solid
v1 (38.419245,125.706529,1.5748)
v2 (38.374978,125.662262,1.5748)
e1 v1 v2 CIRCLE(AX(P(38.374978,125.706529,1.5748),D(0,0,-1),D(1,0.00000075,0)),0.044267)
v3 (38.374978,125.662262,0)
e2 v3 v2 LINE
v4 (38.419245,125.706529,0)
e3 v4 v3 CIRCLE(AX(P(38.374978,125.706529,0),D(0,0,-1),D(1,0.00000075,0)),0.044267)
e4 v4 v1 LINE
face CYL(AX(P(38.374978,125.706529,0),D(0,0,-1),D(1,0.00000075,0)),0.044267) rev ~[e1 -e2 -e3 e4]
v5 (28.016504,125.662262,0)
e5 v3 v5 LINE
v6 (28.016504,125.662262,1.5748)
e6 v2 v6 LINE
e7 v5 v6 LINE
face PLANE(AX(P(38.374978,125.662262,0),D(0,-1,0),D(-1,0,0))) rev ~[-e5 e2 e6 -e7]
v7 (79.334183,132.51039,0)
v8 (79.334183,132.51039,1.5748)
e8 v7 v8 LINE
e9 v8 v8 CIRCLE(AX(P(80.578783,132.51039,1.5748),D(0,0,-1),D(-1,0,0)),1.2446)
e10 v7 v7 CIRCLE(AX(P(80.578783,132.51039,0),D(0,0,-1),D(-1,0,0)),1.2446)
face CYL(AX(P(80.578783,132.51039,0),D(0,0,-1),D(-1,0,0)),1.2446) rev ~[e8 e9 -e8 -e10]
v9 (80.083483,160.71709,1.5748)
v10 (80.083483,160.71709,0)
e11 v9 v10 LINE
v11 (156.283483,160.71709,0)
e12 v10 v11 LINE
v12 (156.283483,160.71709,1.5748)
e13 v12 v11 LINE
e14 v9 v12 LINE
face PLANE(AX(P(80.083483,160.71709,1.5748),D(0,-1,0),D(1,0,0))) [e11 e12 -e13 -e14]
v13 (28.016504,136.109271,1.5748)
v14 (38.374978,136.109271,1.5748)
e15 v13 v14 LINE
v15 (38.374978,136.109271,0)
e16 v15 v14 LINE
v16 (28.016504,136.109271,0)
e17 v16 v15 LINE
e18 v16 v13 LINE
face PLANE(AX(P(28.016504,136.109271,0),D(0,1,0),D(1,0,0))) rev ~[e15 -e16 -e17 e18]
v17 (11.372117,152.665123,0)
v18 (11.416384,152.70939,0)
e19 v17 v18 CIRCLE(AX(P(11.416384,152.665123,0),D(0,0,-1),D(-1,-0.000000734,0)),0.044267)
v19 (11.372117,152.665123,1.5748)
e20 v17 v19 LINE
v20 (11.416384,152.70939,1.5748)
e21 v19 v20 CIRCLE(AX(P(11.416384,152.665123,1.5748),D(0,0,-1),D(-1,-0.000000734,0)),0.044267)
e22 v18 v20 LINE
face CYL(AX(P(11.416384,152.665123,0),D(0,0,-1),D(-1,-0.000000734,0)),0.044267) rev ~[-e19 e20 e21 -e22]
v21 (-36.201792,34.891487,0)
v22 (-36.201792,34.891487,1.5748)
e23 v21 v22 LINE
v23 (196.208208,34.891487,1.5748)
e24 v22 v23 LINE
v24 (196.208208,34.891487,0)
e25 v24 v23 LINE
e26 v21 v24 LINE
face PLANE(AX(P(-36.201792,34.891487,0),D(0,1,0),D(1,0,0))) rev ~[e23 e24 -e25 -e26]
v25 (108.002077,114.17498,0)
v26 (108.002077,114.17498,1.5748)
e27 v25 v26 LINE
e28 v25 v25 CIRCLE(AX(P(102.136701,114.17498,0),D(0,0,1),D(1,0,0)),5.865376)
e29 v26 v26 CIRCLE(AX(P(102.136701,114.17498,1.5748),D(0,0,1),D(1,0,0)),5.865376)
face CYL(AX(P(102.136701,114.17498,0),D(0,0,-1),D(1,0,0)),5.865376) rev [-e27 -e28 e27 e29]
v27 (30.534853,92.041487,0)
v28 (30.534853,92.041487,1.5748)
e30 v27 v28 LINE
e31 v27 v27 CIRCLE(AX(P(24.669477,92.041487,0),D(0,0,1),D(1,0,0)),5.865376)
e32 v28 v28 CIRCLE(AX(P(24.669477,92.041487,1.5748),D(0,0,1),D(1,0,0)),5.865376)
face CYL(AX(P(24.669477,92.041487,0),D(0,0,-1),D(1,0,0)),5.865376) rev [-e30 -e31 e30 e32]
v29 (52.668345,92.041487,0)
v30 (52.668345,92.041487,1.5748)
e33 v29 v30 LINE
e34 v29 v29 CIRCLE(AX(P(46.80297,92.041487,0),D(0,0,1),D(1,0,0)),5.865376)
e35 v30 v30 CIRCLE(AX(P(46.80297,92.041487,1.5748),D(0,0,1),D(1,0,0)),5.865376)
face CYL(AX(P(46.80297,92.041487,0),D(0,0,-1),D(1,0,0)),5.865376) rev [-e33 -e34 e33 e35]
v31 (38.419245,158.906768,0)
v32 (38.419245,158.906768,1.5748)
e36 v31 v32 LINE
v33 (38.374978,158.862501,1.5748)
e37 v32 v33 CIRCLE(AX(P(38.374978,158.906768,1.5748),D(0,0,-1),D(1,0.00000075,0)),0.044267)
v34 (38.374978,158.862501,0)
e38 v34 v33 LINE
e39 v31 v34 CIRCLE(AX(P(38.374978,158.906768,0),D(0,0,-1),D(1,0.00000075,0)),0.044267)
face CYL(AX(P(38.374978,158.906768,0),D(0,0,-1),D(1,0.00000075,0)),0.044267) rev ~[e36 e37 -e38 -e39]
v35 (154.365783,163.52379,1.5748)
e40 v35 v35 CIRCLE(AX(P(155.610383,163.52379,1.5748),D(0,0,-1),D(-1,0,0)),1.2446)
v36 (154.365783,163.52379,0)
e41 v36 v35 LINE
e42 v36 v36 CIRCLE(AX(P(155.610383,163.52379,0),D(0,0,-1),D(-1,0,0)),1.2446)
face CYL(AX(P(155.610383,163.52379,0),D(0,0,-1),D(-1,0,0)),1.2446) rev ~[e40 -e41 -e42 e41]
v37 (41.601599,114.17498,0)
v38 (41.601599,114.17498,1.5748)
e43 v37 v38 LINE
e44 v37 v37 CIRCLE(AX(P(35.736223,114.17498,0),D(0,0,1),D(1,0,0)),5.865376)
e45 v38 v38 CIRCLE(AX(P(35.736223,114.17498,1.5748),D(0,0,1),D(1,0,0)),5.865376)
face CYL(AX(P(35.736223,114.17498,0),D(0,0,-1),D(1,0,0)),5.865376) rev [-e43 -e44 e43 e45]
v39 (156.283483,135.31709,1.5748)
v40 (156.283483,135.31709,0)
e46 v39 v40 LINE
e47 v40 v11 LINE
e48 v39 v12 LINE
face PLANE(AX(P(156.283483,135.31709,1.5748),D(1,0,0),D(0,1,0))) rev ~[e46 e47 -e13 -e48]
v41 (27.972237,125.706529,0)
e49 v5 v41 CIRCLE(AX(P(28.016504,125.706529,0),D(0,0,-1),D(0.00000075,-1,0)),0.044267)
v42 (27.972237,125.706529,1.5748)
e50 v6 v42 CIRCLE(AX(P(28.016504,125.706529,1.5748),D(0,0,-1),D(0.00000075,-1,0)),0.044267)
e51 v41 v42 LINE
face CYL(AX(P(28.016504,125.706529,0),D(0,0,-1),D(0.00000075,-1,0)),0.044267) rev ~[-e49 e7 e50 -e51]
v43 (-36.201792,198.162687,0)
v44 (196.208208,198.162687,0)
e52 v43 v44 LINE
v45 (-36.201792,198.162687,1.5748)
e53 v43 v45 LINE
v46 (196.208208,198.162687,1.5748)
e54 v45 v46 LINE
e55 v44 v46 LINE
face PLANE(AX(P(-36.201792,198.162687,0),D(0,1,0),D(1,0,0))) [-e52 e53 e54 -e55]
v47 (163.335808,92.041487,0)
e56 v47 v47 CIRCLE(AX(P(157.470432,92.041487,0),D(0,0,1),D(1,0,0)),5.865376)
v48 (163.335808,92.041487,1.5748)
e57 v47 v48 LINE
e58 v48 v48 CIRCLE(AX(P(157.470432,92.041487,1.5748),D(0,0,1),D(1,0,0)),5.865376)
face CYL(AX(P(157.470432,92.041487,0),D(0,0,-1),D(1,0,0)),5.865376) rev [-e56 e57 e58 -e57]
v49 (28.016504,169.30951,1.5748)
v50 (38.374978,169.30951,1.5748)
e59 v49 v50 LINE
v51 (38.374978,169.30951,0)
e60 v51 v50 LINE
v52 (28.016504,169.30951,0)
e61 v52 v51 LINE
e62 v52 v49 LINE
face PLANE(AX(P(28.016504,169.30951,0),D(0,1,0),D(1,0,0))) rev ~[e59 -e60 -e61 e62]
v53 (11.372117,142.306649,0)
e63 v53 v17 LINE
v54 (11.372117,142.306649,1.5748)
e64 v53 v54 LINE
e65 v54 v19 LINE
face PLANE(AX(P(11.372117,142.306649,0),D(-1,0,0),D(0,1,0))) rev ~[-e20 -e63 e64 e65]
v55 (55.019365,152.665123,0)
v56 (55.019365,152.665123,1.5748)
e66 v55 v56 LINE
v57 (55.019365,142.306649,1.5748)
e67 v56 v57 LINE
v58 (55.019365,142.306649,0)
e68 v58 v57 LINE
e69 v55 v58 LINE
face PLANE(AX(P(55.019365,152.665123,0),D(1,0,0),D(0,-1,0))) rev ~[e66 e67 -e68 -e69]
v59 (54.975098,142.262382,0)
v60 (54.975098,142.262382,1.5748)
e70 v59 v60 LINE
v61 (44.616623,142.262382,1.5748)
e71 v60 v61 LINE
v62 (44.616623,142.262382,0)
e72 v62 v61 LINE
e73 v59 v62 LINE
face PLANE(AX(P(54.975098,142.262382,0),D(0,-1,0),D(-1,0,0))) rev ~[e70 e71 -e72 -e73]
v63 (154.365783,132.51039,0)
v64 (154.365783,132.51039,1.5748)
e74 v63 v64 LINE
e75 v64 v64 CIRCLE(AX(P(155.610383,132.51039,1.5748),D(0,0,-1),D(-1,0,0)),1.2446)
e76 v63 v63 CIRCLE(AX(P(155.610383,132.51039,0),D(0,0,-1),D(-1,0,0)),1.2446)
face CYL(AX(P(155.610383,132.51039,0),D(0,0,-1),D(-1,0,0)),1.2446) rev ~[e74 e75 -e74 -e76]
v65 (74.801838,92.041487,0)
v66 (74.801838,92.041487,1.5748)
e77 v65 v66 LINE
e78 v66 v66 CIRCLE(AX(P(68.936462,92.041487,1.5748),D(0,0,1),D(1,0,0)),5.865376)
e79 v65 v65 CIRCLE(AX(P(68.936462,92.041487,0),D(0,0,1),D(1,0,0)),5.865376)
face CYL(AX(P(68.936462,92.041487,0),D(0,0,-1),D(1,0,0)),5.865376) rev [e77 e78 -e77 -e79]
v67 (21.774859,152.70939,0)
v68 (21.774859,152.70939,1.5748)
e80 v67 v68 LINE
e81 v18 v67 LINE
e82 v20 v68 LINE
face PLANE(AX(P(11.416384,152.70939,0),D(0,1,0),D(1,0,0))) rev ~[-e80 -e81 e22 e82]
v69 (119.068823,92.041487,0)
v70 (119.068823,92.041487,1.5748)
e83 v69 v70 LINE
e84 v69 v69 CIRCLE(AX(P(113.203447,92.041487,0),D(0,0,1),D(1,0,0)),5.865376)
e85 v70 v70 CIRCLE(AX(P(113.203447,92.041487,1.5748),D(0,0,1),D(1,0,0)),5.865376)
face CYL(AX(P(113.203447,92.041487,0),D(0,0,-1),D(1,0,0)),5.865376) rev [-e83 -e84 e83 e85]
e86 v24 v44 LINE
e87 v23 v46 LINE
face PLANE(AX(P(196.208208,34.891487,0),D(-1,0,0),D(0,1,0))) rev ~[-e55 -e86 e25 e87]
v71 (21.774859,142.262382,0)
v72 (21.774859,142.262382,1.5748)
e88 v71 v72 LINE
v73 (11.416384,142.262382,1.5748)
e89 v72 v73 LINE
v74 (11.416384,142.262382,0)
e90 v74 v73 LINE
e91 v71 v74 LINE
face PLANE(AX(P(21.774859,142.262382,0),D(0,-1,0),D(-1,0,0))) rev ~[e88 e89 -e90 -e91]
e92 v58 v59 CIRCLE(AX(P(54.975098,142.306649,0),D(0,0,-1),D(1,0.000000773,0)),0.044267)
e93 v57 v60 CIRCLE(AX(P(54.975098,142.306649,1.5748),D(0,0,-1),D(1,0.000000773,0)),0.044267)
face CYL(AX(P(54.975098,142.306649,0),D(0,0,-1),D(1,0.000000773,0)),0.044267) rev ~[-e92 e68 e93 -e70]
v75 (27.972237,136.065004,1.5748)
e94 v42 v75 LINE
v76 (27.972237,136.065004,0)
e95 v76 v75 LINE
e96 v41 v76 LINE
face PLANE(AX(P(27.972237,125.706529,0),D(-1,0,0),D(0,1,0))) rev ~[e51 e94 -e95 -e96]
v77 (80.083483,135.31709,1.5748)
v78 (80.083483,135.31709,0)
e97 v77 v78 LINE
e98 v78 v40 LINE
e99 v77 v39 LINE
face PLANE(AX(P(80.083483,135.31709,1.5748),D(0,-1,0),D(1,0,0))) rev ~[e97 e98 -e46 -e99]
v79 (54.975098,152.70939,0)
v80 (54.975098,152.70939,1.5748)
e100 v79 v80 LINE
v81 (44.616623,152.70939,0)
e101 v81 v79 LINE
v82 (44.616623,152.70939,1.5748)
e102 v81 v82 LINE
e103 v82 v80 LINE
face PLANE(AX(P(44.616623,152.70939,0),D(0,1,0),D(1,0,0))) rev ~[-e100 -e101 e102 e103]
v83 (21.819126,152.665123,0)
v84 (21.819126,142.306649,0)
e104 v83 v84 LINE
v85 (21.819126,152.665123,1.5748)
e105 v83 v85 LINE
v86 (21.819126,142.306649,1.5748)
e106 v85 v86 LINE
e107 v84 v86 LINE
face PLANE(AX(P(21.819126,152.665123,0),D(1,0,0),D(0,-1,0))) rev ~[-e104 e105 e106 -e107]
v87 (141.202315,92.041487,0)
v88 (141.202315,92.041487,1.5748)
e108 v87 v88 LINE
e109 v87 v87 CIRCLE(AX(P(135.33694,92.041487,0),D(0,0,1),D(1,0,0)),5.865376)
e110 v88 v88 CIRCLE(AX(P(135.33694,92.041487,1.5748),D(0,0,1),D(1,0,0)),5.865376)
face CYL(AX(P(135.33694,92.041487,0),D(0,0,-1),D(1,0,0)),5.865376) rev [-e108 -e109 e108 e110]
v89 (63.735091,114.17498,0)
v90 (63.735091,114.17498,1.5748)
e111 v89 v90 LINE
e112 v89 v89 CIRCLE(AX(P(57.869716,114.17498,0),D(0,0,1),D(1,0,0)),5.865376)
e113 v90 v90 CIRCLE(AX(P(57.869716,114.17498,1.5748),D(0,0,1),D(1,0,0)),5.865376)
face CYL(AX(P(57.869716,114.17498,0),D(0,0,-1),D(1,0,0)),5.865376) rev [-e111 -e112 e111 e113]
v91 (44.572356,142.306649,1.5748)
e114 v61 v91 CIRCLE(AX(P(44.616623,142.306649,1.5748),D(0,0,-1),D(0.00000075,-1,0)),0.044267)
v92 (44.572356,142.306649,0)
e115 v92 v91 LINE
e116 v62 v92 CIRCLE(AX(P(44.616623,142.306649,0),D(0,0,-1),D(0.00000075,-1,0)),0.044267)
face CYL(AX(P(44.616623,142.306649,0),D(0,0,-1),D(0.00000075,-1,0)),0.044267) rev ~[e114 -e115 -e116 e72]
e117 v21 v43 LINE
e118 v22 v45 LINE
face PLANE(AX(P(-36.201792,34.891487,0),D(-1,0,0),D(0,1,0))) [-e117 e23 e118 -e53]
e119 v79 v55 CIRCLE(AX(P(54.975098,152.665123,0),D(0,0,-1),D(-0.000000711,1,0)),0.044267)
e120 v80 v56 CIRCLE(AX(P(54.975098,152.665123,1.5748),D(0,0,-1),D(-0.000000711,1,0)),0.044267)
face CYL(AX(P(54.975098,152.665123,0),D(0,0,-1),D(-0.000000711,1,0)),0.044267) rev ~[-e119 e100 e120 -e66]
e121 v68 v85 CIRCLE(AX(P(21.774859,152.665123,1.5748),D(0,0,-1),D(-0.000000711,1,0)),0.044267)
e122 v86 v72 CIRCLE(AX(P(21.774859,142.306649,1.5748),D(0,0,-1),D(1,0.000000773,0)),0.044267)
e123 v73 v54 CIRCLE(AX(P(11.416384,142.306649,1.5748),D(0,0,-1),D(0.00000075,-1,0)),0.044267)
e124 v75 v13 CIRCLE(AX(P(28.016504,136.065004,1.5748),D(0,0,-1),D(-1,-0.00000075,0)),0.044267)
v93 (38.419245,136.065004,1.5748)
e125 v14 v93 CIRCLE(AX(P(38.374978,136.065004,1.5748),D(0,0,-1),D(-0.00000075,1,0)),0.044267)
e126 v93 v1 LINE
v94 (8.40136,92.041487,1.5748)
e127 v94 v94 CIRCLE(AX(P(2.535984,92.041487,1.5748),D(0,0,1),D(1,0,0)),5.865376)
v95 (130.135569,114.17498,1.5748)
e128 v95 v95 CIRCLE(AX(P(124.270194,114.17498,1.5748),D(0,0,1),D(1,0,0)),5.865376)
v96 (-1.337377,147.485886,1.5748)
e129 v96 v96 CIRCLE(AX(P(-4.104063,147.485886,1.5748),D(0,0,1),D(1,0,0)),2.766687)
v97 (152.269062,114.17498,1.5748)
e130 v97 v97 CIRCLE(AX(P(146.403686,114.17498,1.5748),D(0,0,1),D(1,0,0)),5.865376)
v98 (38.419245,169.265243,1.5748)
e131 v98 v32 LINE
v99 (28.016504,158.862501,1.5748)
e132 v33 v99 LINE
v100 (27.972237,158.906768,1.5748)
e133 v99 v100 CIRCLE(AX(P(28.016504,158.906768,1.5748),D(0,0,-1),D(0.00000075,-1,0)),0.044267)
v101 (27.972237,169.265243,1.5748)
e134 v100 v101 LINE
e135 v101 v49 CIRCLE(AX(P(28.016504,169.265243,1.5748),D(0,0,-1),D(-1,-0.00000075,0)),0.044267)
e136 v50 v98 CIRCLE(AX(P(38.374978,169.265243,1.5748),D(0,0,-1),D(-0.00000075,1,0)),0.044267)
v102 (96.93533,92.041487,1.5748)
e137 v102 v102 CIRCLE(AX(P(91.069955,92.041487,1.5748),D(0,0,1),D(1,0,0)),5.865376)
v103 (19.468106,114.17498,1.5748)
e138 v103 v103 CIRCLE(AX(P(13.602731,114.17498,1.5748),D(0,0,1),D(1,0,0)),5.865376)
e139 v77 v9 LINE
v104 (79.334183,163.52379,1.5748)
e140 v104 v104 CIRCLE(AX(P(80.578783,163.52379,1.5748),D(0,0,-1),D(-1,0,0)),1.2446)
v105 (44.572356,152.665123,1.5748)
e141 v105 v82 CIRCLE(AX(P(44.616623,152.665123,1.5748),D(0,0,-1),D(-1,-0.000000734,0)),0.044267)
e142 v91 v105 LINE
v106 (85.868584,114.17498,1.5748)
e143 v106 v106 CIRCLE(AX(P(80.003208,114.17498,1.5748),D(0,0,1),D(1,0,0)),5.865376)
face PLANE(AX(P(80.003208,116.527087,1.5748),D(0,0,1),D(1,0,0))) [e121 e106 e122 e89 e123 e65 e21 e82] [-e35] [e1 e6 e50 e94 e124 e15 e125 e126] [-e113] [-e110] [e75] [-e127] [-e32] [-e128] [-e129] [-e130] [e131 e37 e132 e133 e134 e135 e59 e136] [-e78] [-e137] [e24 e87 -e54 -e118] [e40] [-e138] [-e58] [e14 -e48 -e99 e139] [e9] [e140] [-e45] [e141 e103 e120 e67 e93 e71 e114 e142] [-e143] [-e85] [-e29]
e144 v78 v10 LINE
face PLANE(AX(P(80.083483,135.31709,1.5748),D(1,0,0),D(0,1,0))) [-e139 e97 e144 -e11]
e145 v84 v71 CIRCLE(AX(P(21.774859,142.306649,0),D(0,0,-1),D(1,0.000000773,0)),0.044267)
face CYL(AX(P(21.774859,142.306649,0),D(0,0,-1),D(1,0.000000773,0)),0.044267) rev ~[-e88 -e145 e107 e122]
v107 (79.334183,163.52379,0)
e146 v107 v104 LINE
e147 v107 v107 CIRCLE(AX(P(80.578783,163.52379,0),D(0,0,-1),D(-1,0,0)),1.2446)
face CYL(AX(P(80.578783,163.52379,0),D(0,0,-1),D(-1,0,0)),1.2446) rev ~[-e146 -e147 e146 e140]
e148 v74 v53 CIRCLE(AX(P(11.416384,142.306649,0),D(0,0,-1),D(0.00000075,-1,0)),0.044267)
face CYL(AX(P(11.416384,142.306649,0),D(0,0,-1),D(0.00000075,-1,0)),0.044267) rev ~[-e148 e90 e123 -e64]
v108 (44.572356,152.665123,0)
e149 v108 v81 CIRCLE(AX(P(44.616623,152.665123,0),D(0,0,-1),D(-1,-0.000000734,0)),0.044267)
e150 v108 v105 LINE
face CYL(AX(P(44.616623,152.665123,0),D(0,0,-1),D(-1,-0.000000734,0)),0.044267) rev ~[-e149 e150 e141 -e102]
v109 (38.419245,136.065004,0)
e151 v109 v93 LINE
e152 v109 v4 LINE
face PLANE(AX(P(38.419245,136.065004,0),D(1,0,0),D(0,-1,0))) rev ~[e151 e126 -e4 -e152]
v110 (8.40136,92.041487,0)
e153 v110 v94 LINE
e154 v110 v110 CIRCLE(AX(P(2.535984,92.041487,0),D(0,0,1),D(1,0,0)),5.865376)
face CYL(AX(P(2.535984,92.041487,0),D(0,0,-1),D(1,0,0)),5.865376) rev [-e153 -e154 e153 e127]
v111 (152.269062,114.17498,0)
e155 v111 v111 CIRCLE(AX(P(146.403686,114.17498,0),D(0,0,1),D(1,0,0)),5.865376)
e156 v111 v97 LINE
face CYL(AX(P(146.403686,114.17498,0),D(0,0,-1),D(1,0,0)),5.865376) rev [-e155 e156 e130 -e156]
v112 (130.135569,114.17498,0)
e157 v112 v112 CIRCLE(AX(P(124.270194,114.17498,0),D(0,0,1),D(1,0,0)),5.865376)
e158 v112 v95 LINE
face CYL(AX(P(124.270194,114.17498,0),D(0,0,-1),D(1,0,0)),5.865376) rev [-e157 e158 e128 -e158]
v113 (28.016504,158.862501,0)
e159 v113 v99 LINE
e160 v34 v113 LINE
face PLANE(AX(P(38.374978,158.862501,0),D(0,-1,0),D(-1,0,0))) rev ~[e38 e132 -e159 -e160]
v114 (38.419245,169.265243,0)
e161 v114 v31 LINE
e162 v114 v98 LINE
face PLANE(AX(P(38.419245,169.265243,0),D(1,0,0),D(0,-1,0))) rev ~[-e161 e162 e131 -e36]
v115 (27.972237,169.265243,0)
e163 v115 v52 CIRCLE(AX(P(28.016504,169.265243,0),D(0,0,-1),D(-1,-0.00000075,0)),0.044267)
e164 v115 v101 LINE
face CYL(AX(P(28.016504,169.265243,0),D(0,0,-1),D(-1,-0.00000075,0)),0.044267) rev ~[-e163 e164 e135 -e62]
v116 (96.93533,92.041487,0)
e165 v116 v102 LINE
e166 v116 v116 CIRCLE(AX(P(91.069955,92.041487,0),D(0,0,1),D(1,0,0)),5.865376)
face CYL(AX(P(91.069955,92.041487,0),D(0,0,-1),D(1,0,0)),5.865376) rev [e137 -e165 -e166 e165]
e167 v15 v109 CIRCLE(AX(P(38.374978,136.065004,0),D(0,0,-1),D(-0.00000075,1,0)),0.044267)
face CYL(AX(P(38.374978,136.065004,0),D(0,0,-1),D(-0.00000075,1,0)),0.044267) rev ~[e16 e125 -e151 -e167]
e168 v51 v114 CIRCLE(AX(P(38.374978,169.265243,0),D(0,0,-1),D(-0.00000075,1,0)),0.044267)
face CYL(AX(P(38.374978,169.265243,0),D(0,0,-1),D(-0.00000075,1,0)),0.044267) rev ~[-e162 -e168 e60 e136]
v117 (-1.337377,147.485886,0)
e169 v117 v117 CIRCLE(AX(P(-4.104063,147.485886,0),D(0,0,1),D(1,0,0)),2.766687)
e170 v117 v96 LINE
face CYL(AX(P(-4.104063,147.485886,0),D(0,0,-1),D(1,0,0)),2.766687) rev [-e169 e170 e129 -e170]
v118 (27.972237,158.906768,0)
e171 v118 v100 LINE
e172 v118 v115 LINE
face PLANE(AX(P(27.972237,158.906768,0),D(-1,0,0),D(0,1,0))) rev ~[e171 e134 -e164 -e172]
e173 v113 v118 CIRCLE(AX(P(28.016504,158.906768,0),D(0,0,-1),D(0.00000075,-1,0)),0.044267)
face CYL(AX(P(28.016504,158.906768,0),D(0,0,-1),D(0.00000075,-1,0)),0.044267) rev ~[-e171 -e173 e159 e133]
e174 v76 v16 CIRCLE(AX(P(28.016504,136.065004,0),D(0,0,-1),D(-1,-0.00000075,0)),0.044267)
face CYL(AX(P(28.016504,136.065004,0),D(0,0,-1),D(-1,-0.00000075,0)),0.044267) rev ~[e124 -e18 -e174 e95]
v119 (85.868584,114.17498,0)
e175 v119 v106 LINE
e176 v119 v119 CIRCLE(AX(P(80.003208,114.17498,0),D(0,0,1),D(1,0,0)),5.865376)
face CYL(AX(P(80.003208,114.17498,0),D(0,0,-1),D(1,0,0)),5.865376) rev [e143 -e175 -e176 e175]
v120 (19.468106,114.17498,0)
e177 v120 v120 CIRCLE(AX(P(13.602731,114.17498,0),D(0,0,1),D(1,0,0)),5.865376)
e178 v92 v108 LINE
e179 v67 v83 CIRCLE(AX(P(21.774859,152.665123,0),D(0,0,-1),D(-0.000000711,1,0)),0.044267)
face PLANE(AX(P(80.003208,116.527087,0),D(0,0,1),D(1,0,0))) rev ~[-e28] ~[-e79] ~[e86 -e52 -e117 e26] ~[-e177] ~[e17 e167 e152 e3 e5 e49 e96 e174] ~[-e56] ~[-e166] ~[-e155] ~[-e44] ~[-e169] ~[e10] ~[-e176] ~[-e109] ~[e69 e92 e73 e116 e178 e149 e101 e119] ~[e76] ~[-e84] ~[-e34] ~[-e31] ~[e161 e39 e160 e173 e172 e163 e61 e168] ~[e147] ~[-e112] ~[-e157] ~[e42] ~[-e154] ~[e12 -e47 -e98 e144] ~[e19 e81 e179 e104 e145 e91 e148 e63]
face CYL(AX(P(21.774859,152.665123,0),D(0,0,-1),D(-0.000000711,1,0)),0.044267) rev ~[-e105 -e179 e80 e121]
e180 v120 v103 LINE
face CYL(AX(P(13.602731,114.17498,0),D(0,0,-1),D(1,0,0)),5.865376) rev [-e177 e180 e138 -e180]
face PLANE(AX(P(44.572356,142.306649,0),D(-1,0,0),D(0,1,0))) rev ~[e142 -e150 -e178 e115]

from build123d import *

# Parameters (mm, degrees)
MODEL_W             = 232.41
MODEL_H             = 163.2712
MODEL_R             = 2.766686572
MODEL_R_2           = 5.865375533
BOSS_EXTRUDE2_DEPTH = 1.5748
SKETCH10_W          = 76.2
SKETCH10_H          = 25.4
CUT_EXTRUDE13_DEPTH = 1.5748
SKETCH11_R          = 1.2446
CUT_EXTRUDE14_DEPTH = 279.870205617


with BuildPart() as part:
    # Model → Boss-Extrude2 (new body)
    with BuildSketch(Plane.XY):
        with Locations((80.00320848, 116.527086979)):
            Rectangle(MODEL_W, MODEL_H)
        with Locations((-4.104063311, 147.485885883)):
            Circle(MODEL_R, mode=Mode.SUBTRACT)
        with Locations((68.936462192, 92.041486979)):
            Circle(MODEL_R_2, mode=Mode.SUBTRACT)
        with Locations((2.535984462, 92.041486979)):
            Circle(MODEL_R_2, mode=Mode.SUBTRACT)
        with Locations((24.669477039, 92.041486979)):
            Circle(MODEL_R_2, mode=Mode.SUBTRACT)
        with Locations((46.802969616, 92.041486979)):
            Circle(MODEL_R_2, mode=Mode.SUBTRACT)
        with Locations((91.069954769, 92.041486979)):
            Circle(MODEL_R_2, mode=Mode.SUBTRACT)
        with Locations((113.203447345, 92.041486979)):
            Circle(MODEL_R_2, mode=Mode.SUBTRACT)
        with Locations((135.336939922, 92.041486979)):
            Circle(MODEL_R_2, mode=Mode.SUBTRACT)
        with Locations((157.470432499, 92.041486979)):
            Circle(MODEL_R_2, mode=Mode.SUBTRACT)
        with Locations((146.40368621, 114.174979556)):
            Circle(MODEL_R_2, mode=Mode.SUBTRACT)
        with Locations((124.270193634, 114.174979556)):
            Circle(MODEL_R_2, mode=Mode.SUBTRACT)
        with Locations((102.136701057, 114.174979556)):
            Circle(MODEL_R_2, mode=Mode.SUBTRACT)
        with Locations((80.00320848, 114.174979556)):
            Circle(MODEL_R_2, mode=Mode.SUBTRACT)
        with Locations((57.869715904, 114.174979556)):
            Circle(MODEL_R_2, mode=Mode.SUBTRACT)
        with Locations((35.736223327, 114.174979556)):
            Circle(MODEL_R_2, mode=Mode.SUBTRACT)
        with Locations((13.602730751, 114.174979556)):
            Circle(MODEL_R_2, mode=Mode.SUBTRACT)
        with BuildLine():
            Line((28.016503786, 169.309509564), (38.374978312, 169.309509564))
            ThreePointArc((38.374978312, 169.309509564), (38.406279807, 169.296544074), (38.419245297, 169.265242579))
            Line((38.419245297, 169.265242579), (38.419245297, 158.906768053))
            ThreePointArc((38.419245297, 158.906768053), (38.406279807, 158.875466558), (38.374978312, 158.862501068))
            Line((38.374978312, 158.862501068), (28.016503786, 158.862501068))
            ThreePointArc((28.016503786, 158.862501068), (27.985202291, 158.875466558), (27.972236801, 158.906768053))
            Line((27.972236801, 158.906768053), (27.972236801, 169.265242579))
            ThreePointArc((27.972236801, 169.265242579), (27.985202291, 169.296544074), (28.016503786, 169.309509564))
        make_face(mode=Mode.SUBTRACT)
        with BuildLine():
            Line((28.016503786, 136.109270699), (38.374978312, 136.109270699))
            ThreePointArc((38.374978312, 136.109270699), (38.406279807, 136.096305209), (38.419245297, 136.065003714))
            Line((38.419245297, 136.065003714), (38.419245297, 125.706529188))
            ThreePointArc((38.419245297, 125.706529188), (38.406279807, 125.675227693), (38.374978312, 125.662262203))
            Line((38.374978312, 125.662262203), (28.016503786, 125.662262203))
            ThreePointArc((28.016503786, 125.662262203), (27.985202291, 125.675227693), (27.972236801, 125.706529188))
            Line((27.972236801, 125.706529188), (27.972236801, 136.065003714))
            ThreePointArc((27.972236801, 136.065003714), (27.985202291, 136.096305209), (28.016503786, 136.109270699))
        make_face(mode=Mode.SUBTRACT)
        with BuildLine():
            Line((44.616623219, 152.709390132), (54.975097745, 152.709390132))
            ThreePointArc((54.975097745, 152.709390132), (55.00639924, 152.696424641), (55.01936473, 152.665123146))
            Line((55.01936473, 152.665123146), (55.01936473, 142.306648621))
            ThreePointArc((55.01936473, 142.306648621), (55.00639924, 142.275347125), (54.975097745, 142.262381635))
            Line((54.975097745, 142.262381635), (44.616623219, 142.262381635))
            ThreePointArc((44.616623219, 142.262381635), (44.585321724, 142.275347125), (44.572356234, 142.306648621))
            Line((44.572356234, 142.306648621), (44.572356234, 152.665123146))
            ThreePointArc((44.572356234, 152.665123146), (44.585321724, 152.696424641), (44.616623219, 152.709390132))
        make_face(mode=Mode.SUBTRACT)
        with BuildLine():
            Line((21.819125865, 152.665123146), (21.819125865, 142.306648621))
            ThreePointArc((21.819125865, 142.306648621), (21.806160375, 142.275347125), (21.77485888, 142.262381635))
            Line((21.77485888, 142.262381635), (11.416384354, 142.262381635))
            ThreePointArc((11.416384354, 142.262381635), (11.385082859, 142.275347125), (11.372117369, 142.306648621))
            Line((11.372117369, 142.306648621), (11.372117369, 152.665123146))
            ThreePointArc((11.372117369, 152.665123146), (11.385082859, 152.696424641), (11.416384354, 152.709390132))
            Line((11.416384354, 152.709390132), (21.77485888, 152.709390132))
            ThreePointArc((21.77485888, 152.709390132), (21.806160375, 152.696424641), (21.819125865, 152.665123146))
        make_face(mode=Mode.SUBTRACT)
        with BuildLine():
            Line((146.071683822, 154.070599925), (146.071683822, 141.963579486))
            ThreePointArc((146.071683822, 141.963579486), (146.058718332, 141.93227799), (146.027416836, 141.9193125))
            Line((146.027416836, 141.9193125), (90.339549514, 141.9193125))
            ThreePointArc((90.339549514, 141.9193125), (90.308248019, 141.93227799), (90.295282529, 141.963579486))
            Line((90.295282529, 141.963579486), (90.295282529, 154.070599925))
            ThreePointArc((90.295282529, 154.070599925), (90.308248019, 154.10190142), (90.339549514, 154.11486691))
            Line((90.339549514, 154.11486691), (146.027416836, 154.11486691))
            ThreePointArc((146.027416836, 154.11486691), (146.058718332, 154.10190142), (146.071683822, 154.070599925))
        make_face(mode=Mode.SUBTRACT)
    extrude(amount=BOSS_EXTRUDE2_DEPTH)

    # Sketch10 → Cut-Extrude13 (cut)
    with BuildSketch(Plane.XY.offset(1.5748)):
        with Locations((118.183483175, 148.017089705)):
            Rectangle(SKETCH10_W, SKETCH10_H)
    extrude(amount=-CUT_EXTRUDE13_DEPTH, mode=Mode.SUBTRACT)

    # Sketch11 → Cut-Extrude14 (cut, through all)
    with BuildSketch(Plane(origin=(0, 0, 0), x_dir=(-1, 0, 0), z_dir=(0, 0, -1))):
        with Locations((-155.610383175, 163.523789705)):
            Circle(SKETCH11_R)
        with Locations((-155.610383175, 132.510389705)):
            Circle(SKETCH11_R)
        with Locations((-80.578783175, 132.510389705)):
            Circle(SKETCH11_R)
        with Locations((-80.578783175, 163.523789705)):
            Circle(SKETCH11_R)
    extrude(amount=-CUT_EXTRUDE14_DEPTH, mode=Mode.SUBTRACT)


solid = part.part
